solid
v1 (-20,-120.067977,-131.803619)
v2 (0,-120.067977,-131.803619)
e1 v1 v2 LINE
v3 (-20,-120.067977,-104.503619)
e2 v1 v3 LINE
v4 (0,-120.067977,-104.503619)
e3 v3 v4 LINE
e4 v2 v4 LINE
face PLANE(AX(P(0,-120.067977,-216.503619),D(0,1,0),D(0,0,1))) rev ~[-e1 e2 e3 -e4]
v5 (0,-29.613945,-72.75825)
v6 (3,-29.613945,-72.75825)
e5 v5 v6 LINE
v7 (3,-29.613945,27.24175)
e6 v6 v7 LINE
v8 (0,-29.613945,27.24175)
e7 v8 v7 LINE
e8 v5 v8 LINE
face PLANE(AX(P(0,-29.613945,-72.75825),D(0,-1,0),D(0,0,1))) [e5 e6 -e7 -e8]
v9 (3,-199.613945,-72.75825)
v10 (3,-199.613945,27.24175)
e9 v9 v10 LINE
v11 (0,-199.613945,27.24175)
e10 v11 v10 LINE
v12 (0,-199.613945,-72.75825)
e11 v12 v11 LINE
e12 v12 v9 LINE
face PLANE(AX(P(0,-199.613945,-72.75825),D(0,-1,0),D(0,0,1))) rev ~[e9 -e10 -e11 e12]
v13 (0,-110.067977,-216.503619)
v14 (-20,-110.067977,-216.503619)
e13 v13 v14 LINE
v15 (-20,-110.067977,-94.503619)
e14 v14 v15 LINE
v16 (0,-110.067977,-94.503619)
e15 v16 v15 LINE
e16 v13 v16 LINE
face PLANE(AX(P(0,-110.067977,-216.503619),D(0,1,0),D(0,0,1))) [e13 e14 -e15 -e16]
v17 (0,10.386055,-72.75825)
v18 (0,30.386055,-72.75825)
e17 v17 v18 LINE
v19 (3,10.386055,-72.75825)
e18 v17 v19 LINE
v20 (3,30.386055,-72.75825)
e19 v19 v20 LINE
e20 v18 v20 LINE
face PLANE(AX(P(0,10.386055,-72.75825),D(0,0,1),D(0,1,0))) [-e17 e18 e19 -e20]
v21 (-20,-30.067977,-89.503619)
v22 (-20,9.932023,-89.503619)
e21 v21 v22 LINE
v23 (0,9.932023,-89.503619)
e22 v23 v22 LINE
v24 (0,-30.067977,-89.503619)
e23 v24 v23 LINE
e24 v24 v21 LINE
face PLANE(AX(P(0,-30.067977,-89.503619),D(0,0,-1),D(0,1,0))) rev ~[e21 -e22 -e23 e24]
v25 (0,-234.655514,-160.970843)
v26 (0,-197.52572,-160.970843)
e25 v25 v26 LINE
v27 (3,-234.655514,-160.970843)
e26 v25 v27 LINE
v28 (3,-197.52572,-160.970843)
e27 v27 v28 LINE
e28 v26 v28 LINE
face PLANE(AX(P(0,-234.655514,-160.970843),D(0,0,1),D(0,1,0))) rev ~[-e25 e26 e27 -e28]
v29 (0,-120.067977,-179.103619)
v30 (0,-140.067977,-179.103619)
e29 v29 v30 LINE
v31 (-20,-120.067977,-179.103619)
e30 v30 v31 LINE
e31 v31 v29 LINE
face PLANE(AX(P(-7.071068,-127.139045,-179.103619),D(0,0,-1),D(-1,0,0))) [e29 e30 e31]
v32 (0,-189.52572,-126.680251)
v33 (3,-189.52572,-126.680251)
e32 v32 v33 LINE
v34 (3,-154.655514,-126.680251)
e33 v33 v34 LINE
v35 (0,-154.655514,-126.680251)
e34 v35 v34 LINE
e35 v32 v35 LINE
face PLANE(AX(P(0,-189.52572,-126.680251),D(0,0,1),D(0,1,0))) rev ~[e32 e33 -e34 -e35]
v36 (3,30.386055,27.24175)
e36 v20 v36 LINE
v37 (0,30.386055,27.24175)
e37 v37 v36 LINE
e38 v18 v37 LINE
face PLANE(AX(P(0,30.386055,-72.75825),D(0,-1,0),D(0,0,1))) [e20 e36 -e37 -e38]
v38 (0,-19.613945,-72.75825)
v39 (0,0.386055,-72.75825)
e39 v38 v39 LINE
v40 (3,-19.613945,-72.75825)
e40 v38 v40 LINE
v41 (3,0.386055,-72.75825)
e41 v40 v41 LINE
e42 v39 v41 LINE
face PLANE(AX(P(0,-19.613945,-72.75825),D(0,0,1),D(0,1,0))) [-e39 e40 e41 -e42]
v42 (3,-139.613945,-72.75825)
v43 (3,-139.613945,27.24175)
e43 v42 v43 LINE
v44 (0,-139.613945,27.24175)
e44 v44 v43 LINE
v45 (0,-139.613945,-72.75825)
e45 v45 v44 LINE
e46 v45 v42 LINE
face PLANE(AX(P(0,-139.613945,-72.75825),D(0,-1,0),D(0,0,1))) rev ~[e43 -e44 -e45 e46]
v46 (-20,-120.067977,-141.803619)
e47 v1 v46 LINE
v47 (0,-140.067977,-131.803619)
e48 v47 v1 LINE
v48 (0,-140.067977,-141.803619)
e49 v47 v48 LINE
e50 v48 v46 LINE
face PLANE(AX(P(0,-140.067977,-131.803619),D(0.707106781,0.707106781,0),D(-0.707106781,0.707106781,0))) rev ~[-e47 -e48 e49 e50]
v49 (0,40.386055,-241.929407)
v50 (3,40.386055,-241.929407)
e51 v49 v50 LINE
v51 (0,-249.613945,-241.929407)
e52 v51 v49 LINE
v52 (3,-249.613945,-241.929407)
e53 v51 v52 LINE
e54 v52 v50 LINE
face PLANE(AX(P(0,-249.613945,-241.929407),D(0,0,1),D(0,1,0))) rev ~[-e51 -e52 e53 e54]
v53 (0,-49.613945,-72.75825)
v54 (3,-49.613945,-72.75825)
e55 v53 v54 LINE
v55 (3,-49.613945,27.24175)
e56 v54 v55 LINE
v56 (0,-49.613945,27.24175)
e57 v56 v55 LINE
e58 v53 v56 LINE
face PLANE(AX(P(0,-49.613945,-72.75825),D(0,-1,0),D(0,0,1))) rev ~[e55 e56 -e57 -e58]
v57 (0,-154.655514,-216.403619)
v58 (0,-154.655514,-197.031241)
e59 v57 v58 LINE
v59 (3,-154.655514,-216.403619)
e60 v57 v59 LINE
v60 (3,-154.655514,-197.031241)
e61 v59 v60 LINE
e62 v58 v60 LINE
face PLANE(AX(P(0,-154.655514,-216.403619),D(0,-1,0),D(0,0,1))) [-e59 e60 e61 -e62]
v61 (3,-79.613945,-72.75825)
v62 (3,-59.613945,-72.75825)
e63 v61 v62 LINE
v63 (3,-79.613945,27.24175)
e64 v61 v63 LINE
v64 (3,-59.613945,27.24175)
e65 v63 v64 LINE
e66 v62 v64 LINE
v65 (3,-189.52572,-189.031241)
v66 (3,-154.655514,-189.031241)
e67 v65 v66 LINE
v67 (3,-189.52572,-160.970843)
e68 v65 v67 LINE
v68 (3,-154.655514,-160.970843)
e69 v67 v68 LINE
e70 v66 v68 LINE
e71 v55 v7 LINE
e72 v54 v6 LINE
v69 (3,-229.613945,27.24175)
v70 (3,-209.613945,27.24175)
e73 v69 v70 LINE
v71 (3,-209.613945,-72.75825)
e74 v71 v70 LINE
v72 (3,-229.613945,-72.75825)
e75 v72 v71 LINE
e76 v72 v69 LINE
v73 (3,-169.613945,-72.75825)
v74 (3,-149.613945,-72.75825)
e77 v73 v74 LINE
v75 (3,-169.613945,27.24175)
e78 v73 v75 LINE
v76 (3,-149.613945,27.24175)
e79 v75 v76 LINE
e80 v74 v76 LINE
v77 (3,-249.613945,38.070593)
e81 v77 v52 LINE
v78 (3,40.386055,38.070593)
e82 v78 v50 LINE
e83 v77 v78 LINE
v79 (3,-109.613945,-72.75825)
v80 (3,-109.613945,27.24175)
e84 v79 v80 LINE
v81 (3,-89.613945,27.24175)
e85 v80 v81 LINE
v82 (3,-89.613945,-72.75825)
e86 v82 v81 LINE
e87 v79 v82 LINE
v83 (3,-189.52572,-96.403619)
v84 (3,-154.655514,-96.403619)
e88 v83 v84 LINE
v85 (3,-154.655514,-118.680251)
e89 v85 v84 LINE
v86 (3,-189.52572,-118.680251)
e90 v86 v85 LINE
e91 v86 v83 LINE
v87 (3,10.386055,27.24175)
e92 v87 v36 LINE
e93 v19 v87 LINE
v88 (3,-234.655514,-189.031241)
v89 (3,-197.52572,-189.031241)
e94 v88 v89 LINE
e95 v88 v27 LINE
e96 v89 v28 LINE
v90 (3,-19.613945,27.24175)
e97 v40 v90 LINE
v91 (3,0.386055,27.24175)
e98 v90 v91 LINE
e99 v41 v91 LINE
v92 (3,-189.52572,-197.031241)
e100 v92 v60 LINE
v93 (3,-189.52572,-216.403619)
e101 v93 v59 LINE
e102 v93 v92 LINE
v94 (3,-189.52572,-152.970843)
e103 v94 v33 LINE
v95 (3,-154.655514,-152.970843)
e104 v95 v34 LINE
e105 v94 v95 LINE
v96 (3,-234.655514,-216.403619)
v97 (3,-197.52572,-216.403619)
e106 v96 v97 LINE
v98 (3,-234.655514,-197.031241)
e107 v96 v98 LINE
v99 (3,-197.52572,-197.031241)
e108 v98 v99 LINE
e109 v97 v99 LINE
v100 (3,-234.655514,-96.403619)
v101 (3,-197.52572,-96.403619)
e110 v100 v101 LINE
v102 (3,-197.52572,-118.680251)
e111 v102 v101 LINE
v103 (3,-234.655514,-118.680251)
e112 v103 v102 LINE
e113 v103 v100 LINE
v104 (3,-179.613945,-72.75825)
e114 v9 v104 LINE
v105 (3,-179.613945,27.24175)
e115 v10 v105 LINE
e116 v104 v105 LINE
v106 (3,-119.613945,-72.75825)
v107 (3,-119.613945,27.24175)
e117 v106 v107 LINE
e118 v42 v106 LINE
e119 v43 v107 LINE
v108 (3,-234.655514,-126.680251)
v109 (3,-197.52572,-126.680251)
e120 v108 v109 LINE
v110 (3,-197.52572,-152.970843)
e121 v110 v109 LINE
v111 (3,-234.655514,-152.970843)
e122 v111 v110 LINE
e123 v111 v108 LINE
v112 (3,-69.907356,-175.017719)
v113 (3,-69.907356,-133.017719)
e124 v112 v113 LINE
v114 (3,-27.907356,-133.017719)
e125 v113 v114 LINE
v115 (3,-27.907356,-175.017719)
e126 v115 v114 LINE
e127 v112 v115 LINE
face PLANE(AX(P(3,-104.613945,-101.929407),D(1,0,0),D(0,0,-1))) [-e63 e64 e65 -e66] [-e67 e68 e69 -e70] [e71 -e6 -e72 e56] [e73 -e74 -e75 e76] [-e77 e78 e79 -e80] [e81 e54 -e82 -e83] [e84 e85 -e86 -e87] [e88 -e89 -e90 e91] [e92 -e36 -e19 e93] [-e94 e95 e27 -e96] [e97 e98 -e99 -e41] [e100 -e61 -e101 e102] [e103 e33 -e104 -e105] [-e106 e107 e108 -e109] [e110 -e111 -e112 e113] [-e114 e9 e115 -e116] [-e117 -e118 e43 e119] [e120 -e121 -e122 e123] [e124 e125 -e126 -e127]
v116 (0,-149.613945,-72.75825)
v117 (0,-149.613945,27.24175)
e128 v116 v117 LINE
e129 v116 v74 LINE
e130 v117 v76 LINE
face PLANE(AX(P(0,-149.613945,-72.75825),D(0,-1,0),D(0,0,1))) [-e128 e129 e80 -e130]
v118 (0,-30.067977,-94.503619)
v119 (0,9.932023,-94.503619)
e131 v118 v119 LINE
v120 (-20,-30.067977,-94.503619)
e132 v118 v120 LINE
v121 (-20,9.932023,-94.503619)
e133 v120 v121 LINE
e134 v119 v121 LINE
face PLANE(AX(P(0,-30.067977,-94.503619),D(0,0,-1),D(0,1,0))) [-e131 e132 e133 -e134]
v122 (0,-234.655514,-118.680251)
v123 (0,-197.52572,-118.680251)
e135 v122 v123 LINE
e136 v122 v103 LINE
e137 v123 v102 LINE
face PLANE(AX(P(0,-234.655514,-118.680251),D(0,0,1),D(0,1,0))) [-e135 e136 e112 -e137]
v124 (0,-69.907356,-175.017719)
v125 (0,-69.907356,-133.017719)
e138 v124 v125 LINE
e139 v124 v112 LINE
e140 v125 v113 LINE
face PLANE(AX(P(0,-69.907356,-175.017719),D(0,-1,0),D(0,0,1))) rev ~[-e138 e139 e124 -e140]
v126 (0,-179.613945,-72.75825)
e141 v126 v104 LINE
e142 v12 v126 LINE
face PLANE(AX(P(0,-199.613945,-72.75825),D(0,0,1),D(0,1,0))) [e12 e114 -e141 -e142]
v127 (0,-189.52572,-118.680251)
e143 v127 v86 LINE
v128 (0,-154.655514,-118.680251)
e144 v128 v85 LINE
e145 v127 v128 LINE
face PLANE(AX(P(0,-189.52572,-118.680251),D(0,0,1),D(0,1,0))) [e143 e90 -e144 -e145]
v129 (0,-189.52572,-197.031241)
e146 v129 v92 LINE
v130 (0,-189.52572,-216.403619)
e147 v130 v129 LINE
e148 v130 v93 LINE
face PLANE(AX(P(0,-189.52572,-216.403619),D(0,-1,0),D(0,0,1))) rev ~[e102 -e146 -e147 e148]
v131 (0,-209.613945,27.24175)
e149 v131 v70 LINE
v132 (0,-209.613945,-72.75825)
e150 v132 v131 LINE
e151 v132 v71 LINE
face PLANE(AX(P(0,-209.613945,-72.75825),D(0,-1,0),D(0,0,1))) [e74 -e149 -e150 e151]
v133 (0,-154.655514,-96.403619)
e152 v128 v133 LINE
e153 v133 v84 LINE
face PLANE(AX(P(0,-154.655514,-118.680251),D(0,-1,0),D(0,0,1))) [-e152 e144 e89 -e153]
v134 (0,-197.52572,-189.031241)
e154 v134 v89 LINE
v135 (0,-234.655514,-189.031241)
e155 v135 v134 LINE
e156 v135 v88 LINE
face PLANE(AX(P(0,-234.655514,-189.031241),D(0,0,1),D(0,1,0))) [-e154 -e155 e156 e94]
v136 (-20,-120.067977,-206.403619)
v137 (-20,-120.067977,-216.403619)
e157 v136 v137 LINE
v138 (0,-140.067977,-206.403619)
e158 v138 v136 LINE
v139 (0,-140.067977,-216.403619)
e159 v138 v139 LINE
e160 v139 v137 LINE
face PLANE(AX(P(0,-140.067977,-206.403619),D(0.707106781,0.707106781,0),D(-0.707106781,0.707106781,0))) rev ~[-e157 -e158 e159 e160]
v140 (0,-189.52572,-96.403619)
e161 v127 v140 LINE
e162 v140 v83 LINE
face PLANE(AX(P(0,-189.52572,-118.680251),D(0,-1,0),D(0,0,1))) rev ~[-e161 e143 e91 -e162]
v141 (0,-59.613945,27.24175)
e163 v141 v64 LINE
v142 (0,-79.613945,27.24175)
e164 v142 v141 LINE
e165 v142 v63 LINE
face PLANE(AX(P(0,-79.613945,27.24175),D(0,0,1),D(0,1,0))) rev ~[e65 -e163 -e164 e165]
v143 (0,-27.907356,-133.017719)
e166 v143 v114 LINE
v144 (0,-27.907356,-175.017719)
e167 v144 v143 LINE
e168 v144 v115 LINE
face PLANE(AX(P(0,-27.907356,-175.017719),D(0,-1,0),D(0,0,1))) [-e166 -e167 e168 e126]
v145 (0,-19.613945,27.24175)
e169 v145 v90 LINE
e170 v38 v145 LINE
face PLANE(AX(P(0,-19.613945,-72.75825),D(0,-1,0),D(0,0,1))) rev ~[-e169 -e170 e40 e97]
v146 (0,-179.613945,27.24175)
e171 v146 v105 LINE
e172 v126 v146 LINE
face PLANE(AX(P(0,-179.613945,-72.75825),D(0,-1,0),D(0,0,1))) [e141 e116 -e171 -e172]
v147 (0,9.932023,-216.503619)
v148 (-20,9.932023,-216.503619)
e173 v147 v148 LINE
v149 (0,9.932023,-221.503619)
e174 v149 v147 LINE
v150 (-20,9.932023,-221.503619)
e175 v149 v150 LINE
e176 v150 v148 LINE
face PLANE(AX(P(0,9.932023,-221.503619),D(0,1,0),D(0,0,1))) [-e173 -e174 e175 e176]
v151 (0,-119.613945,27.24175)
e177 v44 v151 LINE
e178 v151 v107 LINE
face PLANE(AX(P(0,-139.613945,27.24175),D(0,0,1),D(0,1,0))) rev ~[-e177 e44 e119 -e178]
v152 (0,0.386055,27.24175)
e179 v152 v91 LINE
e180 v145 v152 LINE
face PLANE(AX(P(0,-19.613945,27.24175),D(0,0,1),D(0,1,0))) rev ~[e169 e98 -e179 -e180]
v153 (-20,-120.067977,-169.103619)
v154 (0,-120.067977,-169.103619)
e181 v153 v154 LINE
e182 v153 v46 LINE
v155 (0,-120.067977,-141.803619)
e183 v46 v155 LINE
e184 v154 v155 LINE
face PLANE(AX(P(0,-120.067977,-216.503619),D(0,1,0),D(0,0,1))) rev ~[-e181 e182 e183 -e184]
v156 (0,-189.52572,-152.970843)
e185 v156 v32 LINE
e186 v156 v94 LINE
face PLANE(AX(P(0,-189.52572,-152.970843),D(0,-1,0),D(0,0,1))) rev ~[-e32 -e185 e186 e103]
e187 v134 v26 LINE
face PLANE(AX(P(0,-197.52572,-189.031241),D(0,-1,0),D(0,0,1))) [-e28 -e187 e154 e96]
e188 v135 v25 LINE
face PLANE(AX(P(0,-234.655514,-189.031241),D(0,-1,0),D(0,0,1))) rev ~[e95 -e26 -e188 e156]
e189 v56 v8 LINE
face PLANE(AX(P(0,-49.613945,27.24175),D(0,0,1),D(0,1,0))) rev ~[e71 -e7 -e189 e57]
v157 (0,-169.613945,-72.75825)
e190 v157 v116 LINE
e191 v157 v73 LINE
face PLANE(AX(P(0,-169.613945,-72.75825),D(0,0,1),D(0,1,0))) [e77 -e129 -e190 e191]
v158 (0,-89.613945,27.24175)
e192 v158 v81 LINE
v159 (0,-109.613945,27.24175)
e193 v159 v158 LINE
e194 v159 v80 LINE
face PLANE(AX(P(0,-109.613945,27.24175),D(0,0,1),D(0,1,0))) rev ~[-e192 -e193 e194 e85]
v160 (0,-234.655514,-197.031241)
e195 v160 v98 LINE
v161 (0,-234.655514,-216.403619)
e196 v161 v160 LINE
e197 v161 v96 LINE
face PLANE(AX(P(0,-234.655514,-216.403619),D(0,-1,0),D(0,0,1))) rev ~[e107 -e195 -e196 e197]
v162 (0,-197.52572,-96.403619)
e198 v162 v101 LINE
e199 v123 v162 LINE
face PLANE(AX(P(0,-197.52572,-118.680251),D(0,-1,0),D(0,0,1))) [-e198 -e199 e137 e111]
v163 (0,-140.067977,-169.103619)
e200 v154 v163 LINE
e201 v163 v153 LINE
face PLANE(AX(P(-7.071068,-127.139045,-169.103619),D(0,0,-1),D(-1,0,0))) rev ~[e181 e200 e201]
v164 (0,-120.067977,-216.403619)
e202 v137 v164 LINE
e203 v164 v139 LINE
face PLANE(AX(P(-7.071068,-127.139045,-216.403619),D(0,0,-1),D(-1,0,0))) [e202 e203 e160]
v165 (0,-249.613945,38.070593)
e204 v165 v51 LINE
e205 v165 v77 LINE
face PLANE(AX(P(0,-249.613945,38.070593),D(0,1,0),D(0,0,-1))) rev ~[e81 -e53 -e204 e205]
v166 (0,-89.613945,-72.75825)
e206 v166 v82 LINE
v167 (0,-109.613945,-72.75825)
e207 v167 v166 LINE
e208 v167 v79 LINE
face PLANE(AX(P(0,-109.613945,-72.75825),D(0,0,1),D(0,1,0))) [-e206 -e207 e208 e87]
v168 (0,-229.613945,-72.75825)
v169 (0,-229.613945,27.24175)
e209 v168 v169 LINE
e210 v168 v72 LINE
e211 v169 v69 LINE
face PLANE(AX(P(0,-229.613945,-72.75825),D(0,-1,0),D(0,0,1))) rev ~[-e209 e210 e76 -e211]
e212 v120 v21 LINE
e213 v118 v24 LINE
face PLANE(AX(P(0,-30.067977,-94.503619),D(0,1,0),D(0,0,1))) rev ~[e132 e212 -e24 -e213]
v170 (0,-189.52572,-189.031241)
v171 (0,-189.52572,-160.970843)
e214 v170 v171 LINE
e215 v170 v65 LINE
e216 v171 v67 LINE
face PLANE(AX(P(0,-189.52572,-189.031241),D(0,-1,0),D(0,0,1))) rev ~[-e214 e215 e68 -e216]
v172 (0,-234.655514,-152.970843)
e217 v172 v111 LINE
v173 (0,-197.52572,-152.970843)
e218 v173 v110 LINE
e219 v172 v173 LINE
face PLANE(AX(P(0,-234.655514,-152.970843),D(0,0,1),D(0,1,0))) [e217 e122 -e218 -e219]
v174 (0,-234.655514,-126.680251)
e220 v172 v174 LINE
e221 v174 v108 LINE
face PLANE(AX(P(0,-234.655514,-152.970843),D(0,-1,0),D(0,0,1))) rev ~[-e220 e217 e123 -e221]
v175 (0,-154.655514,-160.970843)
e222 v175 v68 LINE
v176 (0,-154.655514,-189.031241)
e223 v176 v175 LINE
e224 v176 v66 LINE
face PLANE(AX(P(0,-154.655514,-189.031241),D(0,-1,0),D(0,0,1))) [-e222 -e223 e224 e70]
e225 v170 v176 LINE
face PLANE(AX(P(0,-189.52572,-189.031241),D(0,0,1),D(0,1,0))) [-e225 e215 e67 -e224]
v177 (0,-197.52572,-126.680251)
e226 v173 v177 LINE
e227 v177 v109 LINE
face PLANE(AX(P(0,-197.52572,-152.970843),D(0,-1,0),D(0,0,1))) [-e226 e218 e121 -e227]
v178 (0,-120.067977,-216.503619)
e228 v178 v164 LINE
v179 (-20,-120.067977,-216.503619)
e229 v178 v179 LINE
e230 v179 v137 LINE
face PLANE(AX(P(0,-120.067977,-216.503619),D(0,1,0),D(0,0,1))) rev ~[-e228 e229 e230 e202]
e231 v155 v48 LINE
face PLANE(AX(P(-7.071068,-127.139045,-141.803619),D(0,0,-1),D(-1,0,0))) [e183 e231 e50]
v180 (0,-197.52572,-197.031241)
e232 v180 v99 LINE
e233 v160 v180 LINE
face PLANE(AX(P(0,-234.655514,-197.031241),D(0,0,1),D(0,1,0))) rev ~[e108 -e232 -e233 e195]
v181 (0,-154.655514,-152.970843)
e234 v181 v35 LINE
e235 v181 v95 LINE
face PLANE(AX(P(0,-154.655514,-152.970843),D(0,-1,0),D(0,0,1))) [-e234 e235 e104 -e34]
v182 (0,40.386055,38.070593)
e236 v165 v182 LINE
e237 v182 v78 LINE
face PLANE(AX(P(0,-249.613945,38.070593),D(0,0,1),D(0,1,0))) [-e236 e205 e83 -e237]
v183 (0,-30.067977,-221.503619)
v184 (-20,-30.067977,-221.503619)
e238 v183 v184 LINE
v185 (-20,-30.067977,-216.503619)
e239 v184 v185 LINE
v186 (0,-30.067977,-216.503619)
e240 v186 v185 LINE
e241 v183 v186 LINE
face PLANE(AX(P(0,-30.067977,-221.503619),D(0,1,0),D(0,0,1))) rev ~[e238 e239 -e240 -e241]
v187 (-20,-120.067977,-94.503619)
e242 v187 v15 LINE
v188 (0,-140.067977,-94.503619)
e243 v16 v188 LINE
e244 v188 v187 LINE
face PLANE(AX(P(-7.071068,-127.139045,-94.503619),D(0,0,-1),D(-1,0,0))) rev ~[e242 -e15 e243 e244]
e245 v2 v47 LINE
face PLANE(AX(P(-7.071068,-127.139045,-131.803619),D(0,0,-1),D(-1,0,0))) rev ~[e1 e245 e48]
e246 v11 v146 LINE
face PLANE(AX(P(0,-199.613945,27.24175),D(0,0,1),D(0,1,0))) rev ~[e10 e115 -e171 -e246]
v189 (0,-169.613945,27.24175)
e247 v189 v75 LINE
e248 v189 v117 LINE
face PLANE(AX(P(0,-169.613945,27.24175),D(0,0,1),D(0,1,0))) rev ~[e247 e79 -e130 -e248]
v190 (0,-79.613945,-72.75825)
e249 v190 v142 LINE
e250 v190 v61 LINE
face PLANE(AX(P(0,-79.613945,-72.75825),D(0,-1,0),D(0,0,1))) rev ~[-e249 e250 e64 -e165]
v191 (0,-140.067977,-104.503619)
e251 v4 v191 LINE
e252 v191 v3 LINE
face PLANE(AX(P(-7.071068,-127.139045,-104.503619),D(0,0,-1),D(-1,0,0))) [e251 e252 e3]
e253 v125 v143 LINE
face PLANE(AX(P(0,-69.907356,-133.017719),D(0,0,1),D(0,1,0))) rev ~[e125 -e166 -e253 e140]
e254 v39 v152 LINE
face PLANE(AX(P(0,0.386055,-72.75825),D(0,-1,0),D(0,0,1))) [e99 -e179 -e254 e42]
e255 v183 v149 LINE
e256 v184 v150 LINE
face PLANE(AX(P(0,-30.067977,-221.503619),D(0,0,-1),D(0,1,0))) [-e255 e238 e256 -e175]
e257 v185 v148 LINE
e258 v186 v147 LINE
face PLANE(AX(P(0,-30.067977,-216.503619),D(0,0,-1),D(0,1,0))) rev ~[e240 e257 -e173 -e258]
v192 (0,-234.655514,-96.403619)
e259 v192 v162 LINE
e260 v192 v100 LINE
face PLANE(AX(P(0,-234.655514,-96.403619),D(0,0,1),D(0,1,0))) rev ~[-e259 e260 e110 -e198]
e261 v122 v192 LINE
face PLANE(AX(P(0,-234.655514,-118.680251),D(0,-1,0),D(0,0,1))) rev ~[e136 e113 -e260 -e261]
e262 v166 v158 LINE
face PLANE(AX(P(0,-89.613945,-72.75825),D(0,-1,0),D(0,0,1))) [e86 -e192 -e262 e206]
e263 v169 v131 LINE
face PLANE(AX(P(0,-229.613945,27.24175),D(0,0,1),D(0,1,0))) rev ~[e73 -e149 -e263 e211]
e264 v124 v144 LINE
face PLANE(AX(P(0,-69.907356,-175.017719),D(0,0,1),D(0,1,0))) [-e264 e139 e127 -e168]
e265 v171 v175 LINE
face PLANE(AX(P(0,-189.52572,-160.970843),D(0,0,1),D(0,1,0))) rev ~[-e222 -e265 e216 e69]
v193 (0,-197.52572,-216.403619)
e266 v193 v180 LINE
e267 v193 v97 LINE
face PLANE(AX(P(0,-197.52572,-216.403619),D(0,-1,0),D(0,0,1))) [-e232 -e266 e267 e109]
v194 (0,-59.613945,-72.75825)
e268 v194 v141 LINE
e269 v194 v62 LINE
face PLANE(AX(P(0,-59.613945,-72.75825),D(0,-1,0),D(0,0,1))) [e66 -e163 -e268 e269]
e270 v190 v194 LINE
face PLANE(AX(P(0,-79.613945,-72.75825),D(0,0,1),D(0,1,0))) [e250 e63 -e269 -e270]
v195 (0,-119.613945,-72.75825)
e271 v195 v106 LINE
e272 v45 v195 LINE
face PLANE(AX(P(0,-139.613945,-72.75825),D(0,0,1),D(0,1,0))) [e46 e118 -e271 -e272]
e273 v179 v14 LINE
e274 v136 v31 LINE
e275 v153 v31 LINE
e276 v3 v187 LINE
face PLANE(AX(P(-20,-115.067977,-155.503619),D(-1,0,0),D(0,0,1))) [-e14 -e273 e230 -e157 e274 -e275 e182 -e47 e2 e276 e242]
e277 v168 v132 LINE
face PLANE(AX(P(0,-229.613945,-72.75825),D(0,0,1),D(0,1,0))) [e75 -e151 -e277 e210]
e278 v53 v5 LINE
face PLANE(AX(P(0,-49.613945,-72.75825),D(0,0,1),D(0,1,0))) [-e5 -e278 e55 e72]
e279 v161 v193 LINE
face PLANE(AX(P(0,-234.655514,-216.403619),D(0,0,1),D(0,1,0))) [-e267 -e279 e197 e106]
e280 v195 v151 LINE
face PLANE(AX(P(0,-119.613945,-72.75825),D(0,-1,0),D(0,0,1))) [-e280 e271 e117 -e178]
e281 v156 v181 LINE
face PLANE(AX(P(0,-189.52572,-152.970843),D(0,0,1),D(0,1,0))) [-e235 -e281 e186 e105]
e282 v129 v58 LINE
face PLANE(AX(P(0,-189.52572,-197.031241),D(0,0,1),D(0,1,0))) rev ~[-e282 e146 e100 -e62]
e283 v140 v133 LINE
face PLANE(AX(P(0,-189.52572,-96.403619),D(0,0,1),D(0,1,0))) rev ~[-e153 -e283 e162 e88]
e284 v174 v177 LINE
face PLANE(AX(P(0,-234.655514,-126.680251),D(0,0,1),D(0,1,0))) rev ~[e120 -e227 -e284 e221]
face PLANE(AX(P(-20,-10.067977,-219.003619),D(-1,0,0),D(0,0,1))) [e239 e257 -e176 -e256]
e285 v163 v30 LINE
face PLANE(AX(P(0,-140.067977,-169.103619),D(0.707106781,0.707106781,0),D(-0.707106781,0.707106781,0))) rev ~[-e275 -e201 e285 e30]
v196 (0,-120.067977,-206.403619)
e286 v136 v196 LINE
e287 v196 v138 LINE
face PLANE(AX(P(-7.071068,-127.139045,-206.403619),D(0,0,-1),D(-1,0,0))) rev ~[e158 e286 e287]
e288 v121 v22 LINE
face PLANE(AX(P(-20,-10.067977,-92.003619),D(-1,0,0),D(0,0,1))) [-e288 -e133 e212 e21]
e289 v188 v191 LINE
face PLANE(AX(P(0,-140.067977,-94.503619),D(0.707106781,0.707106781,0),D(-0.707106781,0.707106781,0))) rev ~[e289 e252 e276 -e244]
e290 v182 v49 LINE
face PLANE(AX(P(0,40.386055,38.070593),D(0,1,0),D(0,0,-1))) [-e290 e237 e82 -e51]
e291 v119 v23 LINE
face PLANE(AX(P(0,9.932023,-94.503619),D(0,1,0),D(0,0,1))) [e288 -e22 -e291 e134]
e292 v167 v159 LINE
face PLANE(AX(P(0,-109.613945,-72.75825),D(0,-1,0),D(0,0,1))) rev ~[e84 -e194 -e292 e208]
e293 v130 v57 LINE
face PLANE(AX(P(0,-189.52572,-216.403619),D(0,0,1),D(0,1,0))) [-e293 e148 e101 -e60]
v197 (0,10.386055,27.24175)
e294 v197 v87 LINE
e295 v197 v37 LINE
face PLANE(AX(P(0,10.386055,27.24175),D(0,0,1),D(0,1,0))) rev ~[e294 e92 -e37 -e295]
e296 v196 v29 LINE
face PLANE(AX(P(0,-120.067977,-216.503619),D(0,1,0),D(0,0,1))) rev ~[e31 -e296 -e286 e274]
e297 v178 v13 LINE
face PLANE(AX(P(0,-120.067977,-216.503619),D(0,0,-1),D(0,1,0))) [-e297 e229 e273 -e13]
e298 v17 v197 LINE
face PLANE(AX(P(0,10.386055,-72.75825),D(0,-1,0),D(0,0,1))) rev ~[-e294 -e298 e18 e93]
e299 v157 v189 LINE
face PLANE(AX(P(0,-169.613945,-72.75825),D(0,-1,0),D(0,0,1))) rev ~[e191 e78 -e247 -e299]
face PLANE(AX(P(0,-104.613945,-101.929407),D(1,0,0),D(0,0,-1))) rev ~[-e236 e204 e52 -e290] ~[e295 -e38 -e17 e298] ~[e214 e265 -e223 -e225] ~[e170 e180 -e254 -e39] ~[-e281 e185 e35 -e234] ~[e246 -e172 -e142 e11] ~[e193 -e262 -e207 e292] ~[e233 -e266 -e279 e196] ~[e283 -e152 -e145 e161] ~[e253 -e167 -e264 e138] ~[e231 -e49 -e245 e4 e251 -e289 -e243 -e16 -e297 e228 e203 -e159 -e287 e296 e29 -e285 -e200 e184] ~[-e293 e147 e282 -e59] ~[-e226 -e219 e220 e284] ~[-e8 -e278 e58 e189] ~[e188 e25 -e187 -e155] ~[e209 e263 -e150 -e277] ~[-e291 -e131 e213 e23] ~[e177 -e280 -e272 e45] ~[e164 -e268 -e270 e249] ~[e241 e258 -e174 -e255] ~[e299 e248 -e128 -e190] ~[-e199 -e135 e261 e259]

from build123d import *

# Parameters (mm, degrees)
SKETCH_1_W             = 280
SKETCH_1_H             = 290
EXTRUDE_1_DEPTH        = 3
SKETCH_2_W             = 42
SKETCH_2_H             = 42
CUT_EXTRUDE_1_DEPTH    = 3
SKETCH_3_W             = 122
SKETCH_3_H             = 10
EXTRUDE_4_DEPTH        = 20
SKETCH_5_W             = 5
SKETCH_5_H             = 40
EXTRUDE_7_DEPTH        = 20
EXTRUDE_8_DEPTH        = 10
PATTERN_LINEAR_1_COUNT = 4
PATTERN_LINEAR_1_PITCH = 37.3
SKETCH_7_W             = 100
SKETCH_7_H             = 20
CUT_EXTRUDE_3_DEPTH    = 3
PATTERN_LINEAR_2_COUNT = 9
PATTERN_LINEAR_2_PITCH = 30
SKETCH_8_W             = 19.372377966
SKETCH_8_H             = 34.870206367
SKETCH_8_W_2           = 28.060398732
SKETCH_8_W_3           = 26.290591332
SKETCH_8_W_4           = 22.27663197
SKETCH_8_H_2           = 37.129793633
CUT_EXTRUDE_4_DEPTH    = 3


with BuildPart() as part:
    # 草图1 → 凸台-拉伸1 (new body)
    with BuildSketch(Plane(origin=(0, 0, 0), x_dir=(0, 0, -1), z_dir=(1, 0, 0))):
        with Locations((101.929406601, -104.613945148)):
            Rectangle(SKETCH_1_W, SKETCH_1_H)
    extrude(amount=EXTRUDE_1_DEPTH)

    # 草图2 → 切除-拉伸1 (cut)
    with BuildSketch(Plane.ZY):
        with Locations((-154.017718623, -48.907355815)):
            Rectangle(SKETCH_2_W, SKETCH_2_H)
    extrude(amount=-CUT_EXTRUDE_1_DEPTH, mode=Mode.SUBTRACT)

    # 草图3 → 凸台-拉伸4 (add)
    with BuildSketch(Plane.ZY):
        with Locations((-155.503619283, -115.067977161)):
            Rectangle(SKETCH_3_W, SKETCH_3_H)
    extrude(amount=EXTRUDE_4_DEPTH)

    # 草图5 → 凸台-拉伸7 (add)
    with BuildSketch(Plane.ZY):
        with Locations((-219.003619283, -10.067977161)):
            Rectangle(SKETCH_5_W, SKETCH_5_H)
        with Locations((-92.003619283, -10.067977161)):
            Rectangle(SKETCH_5_W, SKETCH_5_H)
    extrude(amount=EXTRUDE_7_DEPTH)

    # 草图6 → 凸台-拉伸8 (add)
    with BuildSketch(Plane.XY.offset(-94.503619283)):
        Polygon((-20, -120.067977161), (0, -120.067977161), (0, -140.067977161), align=None)
    extrude_8 = extrude(amount=-EXTRUDE_8_DEPTH)

    # 阵列(线性)1: 凸台-拉伸8 ×4
    with Locations(*[(0, 0, -i * PATTERN_LINEAR_1_PITCH) for i in range(1, PATTERN_LINEAR_1_COUNT)]):
        add(extrude_8)

    # 草图7 → 切除-拉伸3 (cut)
    with BuildSketch(Plane.ZY):
        with Locations((-22.758250254, 20.386054852)):
            Rectangle(SKETCH_7_W, SKETCH_7_H)
    cut_extrude_3 = extrude(amount=-CUT_EXTRUDE_3_DEPTH, mode=Mode.SUBTRACT)

    # 阵列(线性)2: 切除-拉伸3 ×9
    with Locations(*[(0, -i * PATTERN_LINEAR_2_PITCH, 0) for i in range(1, PATTERN_LINEAR_2_COUNT)]):
        add(cut_extrude_3, mode=Mode.SUBTRACT)

    # 草图8 → 切除-拉伸4 (cut)
    with BuildSketch(Plane.ZY):
        with Locations((-206.7174303, -172.090616985)):
            Rectangle(SKETCH_8_W, SKETCH_8_H)
        with Locations((-175.001041951, -172.090616985)):
            Rectangle(SKETCH_8_W_2, SKETCH_8_H)
        with Locations((-139.825546919, -172.090616985)):
            Rectangle(SKETCH_8_W_3, SKETCH_8_H)
        with Locations((-107.541935268, -172.090616985)):
            Rectangle(SKETCH_8_W_4, SKETCH_8_H)
        with Locations((-107.541935268, -216.090616985)):
            Rectangle(SKETCH_8_W_4, SKETCH_8_H_2)
        with Locations((-139.825546919, -216.090616985)):
            Rectangle(SKETCH_8_W_3, SKETCH_8_H_2)
        with Locations((-175.001041951, -216.090616985)):
            Rectangle(SKETCH_8_W_2, SKETCH_8_H_2)
        with Locations((-206.7174303, -216.090616985)):
            Rectangle(SKETCH_8_W, SKETCH_8_H_2)
    extrude(amount=-CUT_EXTRUDE_4_DEPTH, mode=Mode.SUBTRACT)


solid = part.part
